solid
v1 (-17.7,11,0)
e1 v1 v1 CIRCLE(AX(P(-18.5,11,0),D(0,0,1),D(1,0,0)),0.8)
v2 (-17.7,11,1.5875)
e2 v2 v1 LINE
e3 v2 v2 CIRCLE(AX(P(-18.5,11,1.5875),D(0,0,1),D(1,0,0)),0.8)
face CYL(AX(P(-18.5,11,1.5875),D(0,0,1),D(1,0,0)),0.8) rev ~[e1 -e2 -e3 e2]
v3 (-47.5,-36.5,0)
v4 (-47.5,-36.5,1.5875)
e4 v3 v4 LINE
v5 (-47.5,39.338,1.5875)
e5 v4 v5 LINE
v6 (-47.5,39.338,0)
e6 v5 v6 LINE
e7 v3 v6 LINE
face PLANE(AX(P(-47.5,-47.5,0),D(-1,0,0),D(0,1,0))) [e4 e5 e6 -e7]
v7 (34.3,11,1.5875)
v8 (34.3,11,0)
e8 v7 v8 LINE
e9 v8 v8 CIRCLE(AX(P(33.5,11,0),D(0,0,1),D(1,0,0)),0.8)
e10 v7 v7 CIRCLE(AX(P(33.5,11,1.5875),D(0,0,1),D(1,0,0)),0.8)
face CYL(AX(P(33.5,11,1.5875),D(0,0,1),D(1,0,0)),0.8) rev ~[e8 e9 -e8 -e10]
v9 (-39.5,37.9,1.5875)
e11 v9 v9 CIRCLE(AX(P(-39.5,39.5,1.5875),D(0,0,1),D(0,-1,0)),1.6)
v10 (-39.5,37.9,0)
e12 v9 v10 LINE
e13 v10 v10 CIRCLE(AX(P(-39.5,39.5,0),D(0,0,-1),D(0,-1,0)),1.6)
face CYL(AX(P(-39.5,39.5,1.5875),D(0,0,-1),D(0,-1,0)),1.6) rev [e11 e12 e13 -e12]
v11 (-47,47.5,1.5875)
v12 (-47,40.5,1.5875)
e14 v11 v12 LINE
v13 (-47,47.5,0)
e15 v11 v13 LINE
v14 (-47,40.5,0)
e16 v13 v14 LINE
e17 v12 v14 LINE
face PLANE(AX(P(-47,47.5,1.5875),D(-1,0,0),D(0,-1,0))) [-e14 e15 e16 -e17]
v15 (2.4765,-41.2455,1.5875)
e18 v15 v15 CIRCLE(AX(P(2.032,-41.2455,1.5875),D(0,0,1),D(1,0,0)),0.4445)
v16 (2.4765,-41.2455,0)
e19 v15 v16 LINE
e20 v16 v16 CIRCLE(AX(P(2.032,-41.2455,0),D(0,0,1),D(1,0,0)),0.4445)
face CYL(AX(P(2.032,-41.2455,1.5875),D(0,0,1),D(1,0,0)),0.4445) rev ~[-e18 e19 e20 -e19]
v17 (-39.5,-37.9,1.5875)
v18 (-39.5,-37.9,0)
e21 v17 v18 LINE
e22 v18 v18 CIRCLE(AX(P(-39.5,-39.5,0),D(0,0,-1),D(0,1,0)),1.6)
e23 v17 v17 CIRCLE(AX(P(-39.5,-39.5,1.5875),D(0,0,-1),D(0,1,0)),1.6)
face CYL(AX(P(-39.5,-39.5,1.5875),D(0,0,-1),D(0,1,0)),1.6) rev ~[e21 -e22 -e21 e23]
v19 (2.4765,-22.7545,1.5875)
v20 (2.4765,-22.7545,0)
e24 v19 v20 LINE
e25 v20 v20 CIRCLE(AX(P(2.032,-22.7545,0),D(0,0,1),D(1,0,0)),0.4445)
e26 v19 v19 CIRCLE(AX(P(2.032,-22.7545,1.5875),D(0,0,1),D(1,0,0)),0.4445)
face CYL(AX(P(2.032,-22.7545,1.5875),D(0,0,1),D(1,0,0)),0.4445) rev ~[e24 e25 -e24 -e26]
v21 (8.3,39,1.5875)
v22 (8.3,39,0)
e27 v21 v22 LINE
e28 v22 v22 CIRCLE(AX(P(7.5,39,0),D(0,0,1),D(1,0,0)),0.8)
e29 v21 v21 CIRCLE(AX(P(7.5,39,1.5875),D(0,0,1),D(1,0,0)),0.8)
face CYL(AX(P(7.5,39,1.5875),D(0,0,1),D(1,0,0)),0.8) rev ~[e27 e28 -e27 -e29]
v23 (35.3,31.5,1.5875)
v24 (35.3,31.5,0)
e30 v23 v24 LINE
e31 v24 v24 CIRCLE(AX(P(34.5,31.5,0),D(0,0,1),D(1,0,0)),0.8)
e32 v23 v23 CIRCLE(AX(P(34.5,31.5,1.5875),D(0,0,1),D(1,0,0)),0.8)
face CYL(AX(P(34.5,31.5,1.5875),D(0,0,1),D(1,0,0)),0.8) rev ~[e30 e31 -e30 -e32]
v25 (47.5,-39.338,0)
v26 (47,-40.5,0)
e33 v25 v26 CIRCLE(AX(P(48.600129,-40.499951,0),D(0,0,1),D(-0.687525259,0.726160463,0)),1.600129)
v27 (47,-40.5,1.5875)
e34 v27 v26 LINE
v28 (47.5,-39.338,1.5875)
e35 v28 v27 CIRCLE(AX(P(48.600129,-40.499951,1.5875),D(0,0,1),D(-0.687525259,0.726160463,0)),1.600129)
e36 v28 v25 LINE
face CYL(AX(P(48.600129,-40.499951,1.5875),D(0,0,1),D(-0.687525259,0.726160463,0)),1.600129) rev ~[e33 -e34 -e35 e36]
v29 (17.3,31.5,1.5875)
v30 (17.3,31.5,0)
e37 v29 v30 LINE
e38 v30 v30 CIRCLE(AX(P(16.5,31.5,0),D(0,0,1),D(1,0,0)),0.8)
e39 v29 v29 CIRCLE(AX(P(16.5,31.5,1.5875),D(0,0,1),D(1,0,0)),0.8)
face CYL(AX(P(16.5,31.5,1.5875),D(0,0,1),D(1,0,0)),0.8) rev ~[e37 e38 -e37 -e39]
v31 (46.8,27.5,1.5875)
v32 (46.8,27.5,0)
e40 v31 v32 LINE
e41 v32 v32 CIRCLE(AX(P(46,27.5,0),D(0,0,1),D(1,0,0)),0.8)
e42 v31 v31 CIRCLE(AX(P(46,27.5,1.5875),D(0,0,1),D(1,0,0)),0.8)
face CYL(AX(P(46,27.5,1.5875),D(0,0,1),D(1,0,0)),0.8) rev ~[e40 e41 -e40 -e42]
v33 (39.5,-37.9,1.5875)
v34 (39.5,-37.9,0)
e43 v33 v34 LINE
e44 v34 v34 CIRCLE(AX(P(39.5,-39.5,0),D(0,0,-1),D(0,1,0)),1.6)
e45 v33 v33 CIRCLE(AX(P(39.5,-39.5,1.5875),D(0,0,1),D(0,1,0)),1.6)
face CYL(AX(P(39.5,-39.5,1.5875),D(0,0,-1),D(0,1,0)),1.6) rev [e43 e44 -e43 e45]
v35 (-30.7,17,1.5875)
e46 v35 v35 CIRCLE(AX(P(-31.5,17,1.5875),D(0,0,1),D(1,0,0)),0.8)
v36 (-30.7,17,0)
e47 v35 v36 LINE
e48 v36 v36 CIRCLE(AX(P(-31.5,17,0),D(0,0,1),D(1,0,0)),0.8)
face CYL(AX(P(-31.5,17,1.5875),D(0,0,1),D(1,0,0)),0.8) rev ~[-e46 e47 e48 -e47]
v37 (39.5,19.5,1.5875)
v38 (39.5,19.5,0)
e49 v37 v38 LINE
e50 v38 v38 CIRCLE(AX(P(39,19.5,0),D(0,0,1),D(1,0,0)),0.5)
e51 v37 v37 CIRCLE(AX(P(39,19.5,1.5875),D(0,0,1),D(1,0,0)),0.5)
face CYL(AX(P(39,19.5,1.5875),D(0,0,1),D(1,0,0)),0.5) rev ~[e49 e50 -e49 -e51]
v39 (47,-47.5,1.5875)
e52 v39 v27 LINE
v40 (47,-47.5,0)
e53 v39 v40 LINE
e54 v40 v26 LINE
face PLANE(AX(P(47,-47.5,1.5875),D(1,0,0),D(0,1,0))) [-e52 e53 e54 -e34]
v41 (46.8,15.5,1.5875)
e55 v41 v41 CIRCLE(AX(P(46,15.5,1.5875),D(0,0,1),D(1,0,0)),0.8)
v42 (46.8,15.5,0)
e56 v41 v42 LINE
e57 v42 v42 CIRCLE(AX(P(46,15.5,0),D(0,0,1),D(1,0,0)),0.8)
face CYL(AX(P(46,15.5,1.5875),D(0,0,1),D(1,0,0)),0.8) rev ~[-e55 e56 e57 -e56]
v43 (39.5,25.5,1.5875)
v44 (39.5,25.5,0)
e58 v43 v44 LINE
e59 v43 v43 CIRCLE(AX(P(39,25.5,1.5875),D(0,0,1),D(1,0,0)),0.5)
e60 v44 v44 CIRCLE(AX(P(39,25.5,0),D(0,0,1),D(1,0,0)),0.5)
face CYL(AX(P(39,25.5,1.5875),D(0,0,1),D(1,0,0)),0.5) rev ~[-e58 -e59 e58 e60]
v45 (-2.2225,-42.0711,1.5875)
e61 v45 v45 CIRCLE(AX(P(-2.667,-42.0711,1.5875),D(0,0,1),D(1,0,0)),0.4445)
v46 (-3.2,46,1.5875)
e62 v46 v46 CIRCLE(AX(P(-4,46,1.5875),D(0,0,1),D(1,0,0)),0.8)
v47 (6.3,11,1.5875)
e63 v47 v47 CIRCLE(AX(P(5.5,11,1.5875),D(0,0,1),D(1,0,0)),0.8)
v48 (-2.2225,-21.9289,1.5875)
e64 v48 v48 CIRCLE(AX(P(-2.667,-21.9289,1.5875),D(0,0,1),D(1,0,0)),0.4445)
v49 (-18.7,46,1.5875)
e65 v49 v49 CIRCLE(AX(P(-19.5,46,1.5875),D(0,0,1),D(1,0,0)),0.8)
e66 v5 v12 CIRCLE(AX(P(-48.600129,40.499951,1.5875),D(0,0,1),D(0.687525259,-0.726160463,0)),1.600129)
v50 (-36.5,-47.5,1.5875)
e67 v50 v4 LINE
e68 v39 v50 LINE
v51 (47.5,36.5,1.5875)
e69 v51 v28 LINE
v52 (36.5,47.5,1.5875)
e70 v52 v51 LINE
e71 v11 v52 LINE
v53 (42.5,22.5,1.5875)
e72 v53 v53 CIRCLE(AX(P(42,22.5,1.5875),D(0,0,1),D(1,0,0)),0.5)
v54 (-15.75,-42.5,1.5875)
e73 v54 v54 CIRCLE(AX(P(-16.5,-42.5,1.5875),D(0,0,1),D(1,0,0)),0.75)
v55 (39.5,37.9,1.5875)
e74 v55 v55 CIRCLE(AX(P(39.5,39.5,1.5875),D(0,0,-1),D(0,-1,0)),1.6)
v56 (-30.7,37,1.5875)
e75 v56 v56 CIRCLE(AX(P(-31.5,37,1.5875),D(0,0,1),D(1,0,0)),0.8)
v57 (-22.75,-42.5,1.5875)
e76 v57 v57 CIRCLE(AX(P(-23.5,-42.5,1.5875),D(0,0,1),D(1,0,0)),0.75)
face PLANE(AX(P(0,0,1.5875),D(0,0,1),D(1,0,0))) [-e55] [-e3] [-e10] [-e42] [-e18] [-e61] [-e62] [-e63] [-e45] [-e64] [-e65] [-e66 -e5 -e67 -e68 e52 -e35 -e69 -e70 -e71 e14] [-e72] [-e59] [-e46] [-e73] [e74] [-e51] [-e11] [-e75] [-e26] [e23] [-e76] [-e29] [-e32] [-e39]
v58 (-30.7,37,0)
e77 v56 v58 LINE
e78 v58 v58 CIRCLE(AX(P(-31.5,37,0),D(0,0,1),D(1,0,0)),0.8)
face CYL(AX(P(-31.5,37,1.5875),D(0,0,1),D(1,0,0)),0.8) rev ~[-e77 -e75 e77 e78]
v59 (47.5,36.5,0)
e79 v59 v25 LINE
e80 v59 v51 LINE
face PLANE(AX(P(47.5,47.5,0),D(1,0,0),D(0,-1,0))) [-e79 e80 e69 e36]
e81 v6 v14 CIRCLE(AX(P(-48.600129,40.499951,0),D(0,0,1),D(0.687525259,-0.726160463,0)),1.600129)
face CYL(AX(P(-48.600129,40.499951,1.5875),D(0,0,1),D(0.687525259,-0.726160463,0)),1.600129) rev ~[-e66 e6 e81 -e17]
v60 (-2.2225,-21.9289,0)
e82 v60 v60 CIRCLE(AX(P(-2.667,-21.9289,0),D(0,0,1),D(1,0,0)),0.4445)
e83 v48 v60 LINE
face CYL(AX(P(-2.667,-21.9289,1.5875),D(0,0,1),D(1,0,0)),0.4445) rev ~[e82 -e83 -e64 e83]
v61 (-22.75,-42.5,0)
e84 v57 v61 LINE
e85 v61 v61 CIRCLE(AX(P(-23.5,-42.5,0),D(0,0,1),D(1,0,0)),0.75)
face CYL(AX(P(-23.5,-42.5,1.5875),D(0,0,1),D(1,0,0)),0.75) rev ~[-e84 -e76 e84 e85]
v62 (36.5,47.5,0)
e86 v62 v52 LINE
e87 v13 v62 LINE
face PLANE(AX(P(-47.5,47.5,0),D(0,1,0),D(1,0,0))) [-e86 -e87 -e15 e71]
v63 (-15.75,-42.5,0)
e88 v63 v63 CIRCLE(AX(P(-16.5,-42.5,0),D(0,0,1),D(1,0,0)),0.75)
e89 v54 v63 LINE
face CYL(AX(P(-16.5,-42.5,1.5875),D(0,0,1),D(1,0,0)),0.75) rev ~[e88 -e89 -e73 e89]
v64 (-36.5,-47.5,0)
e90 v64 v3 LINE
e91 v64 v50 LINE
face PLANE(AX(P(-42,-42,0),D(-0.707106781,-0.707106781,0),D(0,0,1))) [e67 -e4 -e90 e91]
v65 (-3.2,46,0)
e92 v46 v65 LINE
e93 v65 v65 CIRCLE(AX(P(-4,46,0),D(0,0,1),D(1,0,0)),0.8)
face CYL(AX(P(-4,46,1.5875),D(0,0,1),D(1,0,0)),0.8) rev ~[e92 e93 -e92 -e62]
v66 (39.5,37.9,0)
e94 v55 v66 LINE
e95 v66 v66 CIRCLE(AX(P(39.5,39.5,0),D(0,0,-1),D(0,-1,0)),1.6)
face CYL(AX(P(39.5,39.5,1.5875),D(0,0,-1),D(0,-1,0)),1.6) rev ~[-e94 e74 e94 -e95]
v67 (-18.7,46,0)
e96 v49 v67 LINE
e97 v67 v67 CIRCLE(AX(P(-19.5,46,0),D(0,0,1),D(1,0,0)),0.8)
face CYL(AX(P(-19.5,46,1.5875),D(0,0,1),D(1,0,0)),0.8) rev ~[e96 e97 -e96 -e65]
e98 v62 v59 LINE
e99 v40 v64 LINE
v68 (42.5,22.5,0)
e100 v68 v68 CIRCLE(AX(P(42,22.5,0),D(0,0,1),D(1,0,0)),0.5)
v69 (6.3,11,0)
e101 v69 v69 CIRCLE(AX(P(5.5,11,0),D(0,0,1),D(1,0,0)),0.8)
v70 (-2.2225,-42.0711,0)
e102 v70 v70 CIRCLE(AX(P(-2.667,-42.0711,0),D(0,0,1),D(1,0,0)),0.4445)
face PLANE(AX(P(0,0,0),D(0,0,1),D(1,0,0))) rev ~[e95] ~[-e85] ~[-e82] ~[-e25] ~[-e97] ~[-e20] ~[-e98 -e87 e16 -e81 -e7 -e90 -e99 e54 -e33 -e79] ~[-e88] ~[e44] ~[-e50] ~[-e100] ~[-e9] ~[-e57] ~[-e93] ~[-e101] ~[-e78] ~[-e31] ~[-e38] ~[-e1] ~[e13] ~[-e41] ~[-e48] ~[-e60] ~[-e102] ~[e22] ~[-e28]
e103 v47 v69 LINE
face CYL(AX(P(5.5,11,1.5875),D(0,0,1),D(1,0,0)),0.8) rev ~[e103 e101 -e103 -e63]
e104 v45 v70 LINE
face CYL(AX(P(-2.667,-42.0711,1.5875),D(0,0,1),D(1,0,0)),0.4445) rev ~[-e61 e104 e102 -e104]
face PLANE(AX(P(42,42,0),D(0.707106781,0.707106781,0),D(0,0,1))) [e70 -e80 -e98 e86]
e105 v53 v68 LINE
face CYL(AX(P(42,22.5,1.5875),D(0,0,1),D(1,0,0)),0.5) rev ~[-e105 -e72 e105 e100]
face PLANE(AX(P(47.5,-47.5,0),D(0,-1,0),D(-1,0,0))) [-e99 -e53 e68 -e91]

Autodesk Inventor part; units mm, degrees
sketch "AL_spacer_contact_Zminus" plane through (0, 0, 0) normal (0, 0, 1) x (1, 0, 0)
  circle A0 centre (39.5, 39.5) radius 3.175
  circle A1 centre (39.5, -39.5) radius 3.175
  circle A2 centre (-39.5, -39.5) radius 3.175
  circle A3 centre (-39.5, 39.5) radius 3.175
  point P0 (0, 0)
  dimension "d228" = 39.5
  dimension "d229" = 39.5
  dimension "d230" = 39.5
  dimension "d231" = 39.5
  dimension "d232" = 39.5
  dimension "d233" = 39.5
  dimension "d234" = 39.5
  dimension "d235" = 39.5
  dimension "d236" = 6.35
sketch "Delrin_stayout_Zminus" plane through (0, 0, 0) normal (0, 0, 1) x (1, 0, 0)
  line L0 (47.5, 39.5) -> (47.5, 31)
  line L1 (47.5, 31) -> (39.5, 31)
  line L2 (39.5, 31) -> (31, 39.5)
  line L3 (31, 39.5) -> (31, 47.5)
  line L4 (31, 47.5) -> (39.5, 47.5)
  line L5 (39.5, 47.5) -> (47.5, 39.5)
  line L6 (-39.5, 47.5) -> (-47.5, 39.5)
  line L7 (-47.5, 39.5) -> (-47.5, 31)
  line L8 (-47.5, 31) -> (-39.5, 31)
  line L9 (-39.5, 31) -> (-31, 39.5)
  line L10 (-31, 39.5) -> (-31, 47.5)
  line L11 (-31, 47.5) -> (-39.5, 47.5)
  line L12 (47.5, -39.5) -> (39.5, -47.5)
  line L13 (39.5, -47.5) -> (31, -47.5)
  line L14 (31, -47.5) -> (31, -39.5)
  line L15 (31, -39.5) -> (39.5, -31)
  line L16 (39.5, -31) -> (47.5, -31)
  line L17 (47.5, -31) -> (47.5, -39.5)
  line L18 (-39.5, -47.5) -> (-47.5, -39.5)
  line L19 (-47.5, -39.5) -> (-47.5, -31)
  line L20 (-47.5, -31) -> (-39.5, -31)
  line L21 (-39.5, -31) -> (-31, -39.5)
  line L22 (-31, -39.5) -> (-31, -47.5)
  line L23 (-31, -47.5) -> (-39.5, -47.5)
  point P0 (0, 0)
  dimension "d243" = 16.5
  dimension "d244" = 8
  dimension "d245" = 8.5
  dimension "d246" = 16.5
  dimension "d247" = 47.5
  dimension "d248" = 47.5
  dimension "d249" = 47.5
  dimension "d250" = 47.5
  dimension "d251" = 47.5
  dimension "d252" = 47.5
  dimension "d253" = 47.5
  dimension "d254" = 47.5
sketch "Nub_stayout_Zminus" plane through (0, 0, 0) normal (0, 0, 1) x (1, 0, 0)
  line L0 (29, 47.5) -> (39.5, 47.5)
  line L1 (39.5, 47.5) -> (47.5, 39.5)
  line L2 (47.5, 39.5) -> (47.5, 29)
  line L3 (47.5, 29) -> (42, 29)
  line L4 (42, 29) -> (42, 40.4125)
  line L5 (40.4125, 42) -> (29, 42)
  line L6 (29, 42) -> (29, 47.5)
  arc A0 (42, 40.4125) -> (40.4125, 42) centre (40.4125, 40.4125) ccw
  line L7 (-29, 47.5) -> (-39.5, 47.5)
  line L8 (-39.5, 47.5) -> (-47.5, 39.5)
  line L9 (-47.5, 39.5) -> (-47.5, 29)
  line L10 (-47.5, 29) -> (-42, 29)
  line L11 (-42, 29) -> (-42, 40.4125)
  line L12 (-40.4125, 42) -> (-29, 42)
  line L13 (-29, 42) -> (-29, 47.5)
  arc A1 (-40.4125, 42) -> (-42, 40.4125) centre (-40.4125, 40.4125) ccw
  line L14 (-47.5, -29) -> (-42, -29)
  line L15 (-42, -29) -> (-42, -40.4125)
  line L16 (-40.4125, -42) -> (-29, -42)
  line L17 (-29, -42) -> (-29, -47.5)
  line L18 (-29, -47.5) -> (-39.5, -47.5)
  line L19 (-39.5, -47.5) -> (-47.5, -39.5)
  line L20 (-47.5, -39.5) -> (-47.5, -29)
  arc A2 (-42, -40.4125) -> (-40.4125, -42) centre (-40.4125, -40.4125) ccw
  line L21 (47.5, -29) -> (42, -29)
  line L22 (42, -29) -> (42, -40.4125)
  line L23 (40.4125, -42) -> (29, -42)
  line L24 (29, -42) -> (29, -47.5)
  line L25 (29, -47.5) -> (39.5, -47.5)
  line L26 (39.5, -47.5) -> (47.5, -39.5)
  line L27 (47.5, -39.5) -> (47.5, -29)
  arc A3 (40.4125, -42) -> (42, -40.4125) centre (40.4125, -40.4125) ccw
  point P0 (0, 0)
  dimension "d255" = 1.5875
  dimension "d256" = 18.5
  dimension "d257" = 8
  dimension "d258" = 5.5
  dimension "d259" = 47.5
  dimension "d260" = 47.5
  dimension "d264" = 1.5875
  dimension "d265" = 47.5
  dimension "d266" = 47.5
  dimension "d267" = 1.5875
  dimension "d268" = 47.5
  dimension "d269" = 47.5
  dimension "d270" = 1.5875
  dimension "d271" = 47.5
  dimension "d272" = 47.5
ref_plane "Zplus_face" through (0, 0, 1.5875) normal (0, 0, 1) x (1, 0, 0)
sketch "AL_spacer_contact_Zplus" plane through (0, 0, 1.5875) normal (0, 0, 1) x (1, 0, 0)
  circle A0 centre (-39.5, 39.5) radius 3.175
  circle A1 centre (-39.5, -39.5) radius 3.175
  circle A2 centre (39.5, -39.5) radius 3.175
  circle A3 centre (39.5, 39.5) radius 3.175
  point P0 (0, 0)
  dimension "d129" = 39.5
  dimension "d130" = 39.5
  dimension "d131" = 39.5
  dimension "d132" = 39.5
  dimension "d133" = 6.35
sketch "Delrin_stayout_Zplus" plane through (0, 0, 1.5875) normal (0, 0, 1) x (1, 0, 0)
  line L0 (47.5, -31) -> (47.5, -39.5)
  line L1 (47.5, -39.5) -> (39.5, -47.5)
  line L2 (39.5, -47.5) -> (31, -47.5)
  line L3 (31, -47.5) -> (31, -39.5)
  line L4 (31, -39.5) -> (39.5, -31)
  line L5 (39.5, -31) -> (47.5, -31)
  line L6 (47.5, 31) -> (47.5, 39.5)
  line L7 (47.5, 39.5) -> (39.5, 47.5)
  line L8 (39.5, 47.5) -> (31, 47.5)
  line L9 (31, 47.5) -> (31, 39.5)
  line L10 (31, 39.5) -> (39.5, 31)
  line L11 (39.5, 31) -> (47.5, 31)
  line L12 (-39.5, 47.5) -> (-47.5, 39.5)
  line L13 (-47.5, 39.5) -> (-47.5, 31)
  line L14 (-47.5, 31) -> (-39.5, 31)
  line L15 (-39.5, 31) -> (-31, 39.5)
  line L16 (-31, 39.5) -> (-31, 47.5)
  line L17 (-31, 47.5) -> (-39.5, 47.5)
  line L18 (-47.5, -39.5) -> (-39.5, -47.5)
  line L19 (-39.5, -47.5) -> (-31, -47.5)
  line L20 (-31, -47.5) -> (-31, -39.5)
  line L21 (-31, -39.5) -> (-39.5, -31)
  line L22 (-39.5, -31) -> (-47.5, -31)
  line L23 (-47.5, -31) -> (-47.5, -39.5)
  point P0 (0, 0)
  dimension "d115" = 16.5
  dimension "d116" = 16.5
  dimension "d117" = 8
  dimension "d118" = 8.5
  dimension "d121" = 47.5
  dimension "d122" = 47.5
  dimension "d123" = 47.5
  dimension "d124" = 47.5
  dimension "d125" = 47.5
  dimension "d126" = 47.5
  dimension "d127" = 47.5
  dimension "d128" = 47.5
sketch "Nub_stayout_Zplus" plane through (0, 0, 1.5875) normal (0, 0, 1) x (1, 0, 0)
  line L0 (47.5, 29) -> (42, 29)
  line L1 (42, 29) -> (42, 40.4125)
  line L2 (40.4125, 42) -> (29, 42)
  line L3 (29, 42) -> (29, 47.5)
  arc A0 (42, 40.4125) -> (40.4125, 42) centre (40.4125, 40.4125) ccw
  line L4 (29, 47.5) -> (39.5, 47.5)
  line L5 (39.5, 47.5) -> (47.5, 39.5)
  line L6 (47.5, 39.5) -> (47.5, 29)
  line L7 (-39.5, 47.5) -> (-29, 47.5)
  line L8 (-29, 47.5) -> (-29, 42)
  line L9 (-29, 42) -> (-40.4125, 42)
  line L10 (-42, 40.4125) -> (-42, 29)
  line L11 (-42, 29) -> (-47.5, 29)
  line L12 (-47.5, 29) -> (-47.5, 39.5)
  line L13 (-47.5, 39.5) -> (-39.5, 47.5)
  arc A1 (-40.4125, 42) -> (-42, 40.4125) centre (-40.4125, 40.4125) ccw
  line L14 (-47.5, -29) -> (-47.5, -39.5)
  line L15 (-47.5, -39.5) -> (-39.5, -47.5)
  line L16 (-39.5, -47.5) -> (-29, -47.5)
  line L17 (-29, -47.5) -> (-29, -42)
  line L18 (-29, -42) -> (-40.4125, -42)
  line L19 (-42, -40.4125) -> (-42, -29)
  line L20 (-42, -29) -> (-47.5, -29)
  arc A2 (-42, -40.4125) -> (-40.4125, -42) centre (-40.4125, -40.4125) ccw
  line L21 (29, -47.5) -> (39.5, -47.5)
  line L22 (39.5, -47.5) -> (47.5, -39.5)
  line L23 (47.5, -39.5) -> (47.5, -29)
  line L24 (47.5, -29) -> (42, -29)
  line L25 (42, -29) -> (42, -40.4125)
  line L26 (40.4125, -42) -> (29, -42)
  line L27 (29, -42) -> (29, -47.5)
  arc A3 (40.4125, -42) -> (42, -40.4125) centre (40.4125, -40.4125) ccw
  point P0 (0, 0)
  dimension "d146" = 1.5875
  dimension "d147" = 5.5
  dimension "d149" = 18.5
  dimension "d150" = 8
  dimension "d151" = 47.5
  dimension "d152" = 47.5
  dimension "d153" = 1.5875
  dimension "d154" = 47.5
  dimension "d155" = 47.5
  dimension "d156" = 1.5875
  dimension "d157" = 47.5
  dimension "d158" = 47.5
  dimension "d159" = 1.5875
  dimension "d160" = 47.5
  dimension "d161" = 47.5
sketch "Sketch1" plane through (0, 0, 0) normal (0, 0, 1) x (1, 0, 0)
  line L0 (-47.5, 47.5) -> (47.5, 47.5)
  line L1 (47.5, 47.5) -> (47.5, -47.5)
  line L2 (47.5, -47.5) -> (-47.5, -47.5)
  line L3 (-47.5, -47.5) -> (-47.5, 47.5)
  point P0 (0, 0)
  dimension "d0" = 95
  dimension "d1" = 95
  dimension "d2" = 47.5
  dimension "d3" = 47.5
extrude "Extrusion1" add sketch "Sketch1" along normal blind 1.5875
chamfer "Chamfer2" distance 11 angle 45 2 edges at (-47.5, -47.5, 0.7937) (47.5, 47.5, 0.7937)
ref_plane "Work Plane_ConnX" through (-32, 0, 0) normal (1, 0, 0) x (0, 1, 0)
ref_plane "Work Plane_ConnY" through (0, 0, 0) normal (0, 1, 0) x (-1, 0, 0)
sketch "Sketch9" plane through (0, 0, 1.5875) normal (0, 0, 1) x (1, 0, 0)
  line L0 (47.5, 47.5) -> (47.5, -47.5) projected
  line L1 (58.5598, -32) -> (-58.5598, -32)
  circle A0 centre (-2.667, -21.9289) radius 0.4445
  circle A1 centre (-2.667, -42.0711) radius 0.4445
  line L2 (0, 26.5598) -> (0, -90.5598) construction
  point P0 (0, 0)
  point P1 (0, -32)
  dimension "d134" = 20.1422
  dimension "d136" = 2.667
  dimension "d138" = 0.889
  dimension "d141" = 180
  dimension "d350" = 32
  dimension "d351" = 0
extrude "Holes_Conn_Zminus" cut sketch "Sketch9" against normal through all
sketch "Sketch22" plane through (0, 0, 1.5875) normal (0, 0, 1) x (1, 0, 0)
  line L0 (47.5, 36.5) -> (47.5, -47.5) projected
  line L1 (0, -1.0026) -> (0, -62.9974) construction
  line L2 (62.8115, -32) -> (-62.8115, -32)
  circle A0 centre (2.032, -22.7545) radius 0.4445
  circle A1 centre (2.032, -41.2455) radius 0.4445
  point P0 (47.5, -36.5)
  point P1 (0, 0)
  point P2 (0, -32)
  dimension "d282" = 180
  dimension "d283" = 18.491
  dimension "d284" = 0.889
  dimension "d285" = 2.032
  dimension "d352" = 32
  dimension "d353" = 0
extrude "Holes_Conn_Zplus" cut sketch "Sketch22" against normal through all
hole "Hole5" at (39.5, 39.5, 1.5875) direction (0, 0, -1) diameter 3.2 end through all
mirror "Mirror5" about plane through (0, 0, 0) normal (1, 0, 0) of "Hole5"
mirror "Mirror6" about plane through (0, 0, 0) normal (0, 1, 0) of "Hole5", "Mirror5"
sketch "Sketch25" plane through (0, 0, 1.5875) normal (0, 0, 1) x (1, 0, 0)
  circle A0 centre (-39.5, -39.5) radius 1.6 projected
  circle A1 centre (39.5, -39.5) radius 1.6 projected
  circle A2 centre (-39.5, 39.5) radius 1.6 projected
  circle A3 centre (39.5, 39.5) radius 1.6 projected
  line L0 (47.5, -47.5) -> (-36.5, -47.5) projected
  line L1 (0, 0) -> (0, -59.2198)
  line L2 (8, -47.5) -> (8, -15.5)
  line L3 (8, -15.5) -> (-8, -15.5)
  line L4 (-8, -15.5) -> (-8, -47.5)
  line L5 (-8, -47.5) -> (-62.7516, -61.7336)
  line L6 (-62.7516, -61.7336) -> (-64.2933, 68.2222)
  line L7 (-64.2933, 68.2222) -> (58.3572, 62.5728)
  line L8 (58.3572, 62.5728) -> (56.5848, -69.017)
  line L9 (56.5848, -69.017) -> (8, -47.5)
  point P0 (36.5, -47.5)
  dimension "d362" = 16
  dimension "d363" = 32
extrude "Extrusion9" [suppressed]
sketch "Sketch26" plane through (0, 0, 1.5875) normal (0, 0, 1) x (1, 0, 0)
  line L0 (47.5, -47.5) -> (-36.5, -47.5) projected
  circle A0 centre (-23.5, -42.5) radius 0.75
  circle A1 centre (-16.5, -42.5) radius 0.75
  line L1 (-20, -36.5) -> (-20, -45.5063)
  point P0 (36.5, -47.5)
  point P1 (0, 0)
  point P2 (-20, -42.5)
  dimension "d366" = 1.5
  dimension "d367" = 7
  dimension "d368" = 5
  dimension "d369" = 20
extrude "Extrusion10" cut sketch "Sketch26" against normal through all
sketch "Sketch27" plane through (0, 0, 1.5875) normal (0, 0, 1) x (1, 0, 0)
  line L0 (47.5, -47.5) -> (47, -47.5)
  line L1 (47, -47.5) -> (47, -40.5)
  line L2 (47.5, -39.338) -> (47.5, -47.5)
  arc A0 (47.5, -39.338) -> (47, -40.5) centre (48.6002, -40.5) ccw
  line L3 (-47.5, 47.5) -> (-47, 47.5)
  line L4 (-47, 47.5) -> (-47, 40.5)
  line L5 (-47.5, 39.338) -> (-47.5, 47.5)
  arc A1 (-47.5, 39.338) -> (-47, 40.5) centre (-48.6002, 40.5) ccw
  point P0 (0, 0)
  dimension "d372" = 1.6002
  dimension "d373" = 0.5
  dimension "d374" = 7
extrude "Extrusion11" cut sketch "Sketch27" against normal through all
chamfer "Chamfer4" [suppressed]
sketch "Sketch30" plane through (0, 0, 1.5875) normal (0, 0, 1) x (1, 0, 0)
  circle A0 centre (-18.5, 11) radius 0.8
  line L0 (-47.5, -36.5) -> (-47.5, 39.338) projected
  line L1 (47, -47.5) -> (-36.5, -47.5) projected
  circle A1 centre (5.5, 11) radius 0.8
  circle A2 centre (33.5, 11) radius 0.8
  circle A3 centre (46, 15.5) radius 0.8
  circle A4 centre (46, 27.5) radius 0.8
  circle A5 centre (34.5, 31.5) radius 0.8
  circle A6 centre (16.5, 31.5) radius 0.8
  circle A7 centre (-31.5, 17) radius 0.8
  circle A8 centre (-31.5, 37) radius 0.8
  circle A9 centre (-19.5, 46) radius 0.8
  circle A10 centre (-4, 46) radius 0.8
  circle A11 centre (7.5, 39) radius 0.8
  circle A12 centre (42, 22.5) radius 0.5
  circle A13 centre (39, 25.5) radius 0.5
  circle A14 centre (39, 19.5) radius 0.5
  point P0 (0, 0)
  dimension "d392" = 29
  dimension "d393" = 58.5
  dimension "d394" = 1.6
  dimension "d395" = 53
  dimension "d396" = 81
  dimension "d397" = 93.5
  dimension "d398" = 63
  dimension "d399" = 75
  dimension "d400" = 79
  dimension "d401" = 16
  dimension "d402" = 64.5
  dimension "d403" = 84.5
  dimension "d404" = 28
  dimension "d405" = 43.5
  dimension "d406" = 55
  dimension "d407" = 93.5
  dimension "d408" = 86.5
  dimension "d409" = 64
  dimension "d410" = 82
  dimension "d411" = 1
  dimension "d412" = 86.5
  dimension "d413" = 89.5
  dimension "d414" = 67
  dimension "d415" = 70
  dimension "d416" = 73
extrude "holes" cut sketch "Sketch30" against normal through all
sketch "Sketch28" plane through (0, 0, 1.5875) normal (0, 0, 1) x (1, 0, 0)
  line L0 (-47.5, -36.5) -> (-47.5, 39.338) projected
  line L1 (47, -47.5) -> (-36.5, -47.5) projected
  line L2 (47.5, 36.5) -> (47.5, -39.338) projected
  line L3 (-47, 47.5) -> (36.5, 47.5) projected
  line L4 (-47.5423, 47.4577) -> (47.5, 47.5) construction
  line L5 (47.5, 47.5) -> (47.5423, -47.4577) construction
  line L6 (47.5423, -47.4577) -> (-47.5, -47.5) construction
  line L7 (-47.5, -47.5) -> (-47.5423, 47.4577) construction
  point P0 (0, 0)
decal "Decal1"
sketch "Sketch29" plane through (0, 0, 0) normal (0, 0, -1) x (-1, 0, 0)
  line L0 (47, 47.5) -> (-36.5, 47.5) projected
  line L1 (-47.5, 36.5) -> (-47.5, -39.338) projected
  line L2 (-47, -47.5) -> (36.5, -47.5) projected
  line L3 (47.5, -36.5) -> (47.5, 39.338) projected
  line L4 (-47.5, 47.5) -> (47.5423, 47.4576) construction
  line L5 (47.5423, 47.4576) -> (47.5, -47.5) construction
  line L6 (47.5, -47.5) -> (-47.5423, -47.4576) construction
  line L7 (-47.5423, -47.4576) -> (-47.5, 47.5) construction
  point P0 (0, 0)
decal "Decal2"
equation "\"DESCRIPTION\" = 0.1"
properties part number "PCB_TX" material "FR4"
